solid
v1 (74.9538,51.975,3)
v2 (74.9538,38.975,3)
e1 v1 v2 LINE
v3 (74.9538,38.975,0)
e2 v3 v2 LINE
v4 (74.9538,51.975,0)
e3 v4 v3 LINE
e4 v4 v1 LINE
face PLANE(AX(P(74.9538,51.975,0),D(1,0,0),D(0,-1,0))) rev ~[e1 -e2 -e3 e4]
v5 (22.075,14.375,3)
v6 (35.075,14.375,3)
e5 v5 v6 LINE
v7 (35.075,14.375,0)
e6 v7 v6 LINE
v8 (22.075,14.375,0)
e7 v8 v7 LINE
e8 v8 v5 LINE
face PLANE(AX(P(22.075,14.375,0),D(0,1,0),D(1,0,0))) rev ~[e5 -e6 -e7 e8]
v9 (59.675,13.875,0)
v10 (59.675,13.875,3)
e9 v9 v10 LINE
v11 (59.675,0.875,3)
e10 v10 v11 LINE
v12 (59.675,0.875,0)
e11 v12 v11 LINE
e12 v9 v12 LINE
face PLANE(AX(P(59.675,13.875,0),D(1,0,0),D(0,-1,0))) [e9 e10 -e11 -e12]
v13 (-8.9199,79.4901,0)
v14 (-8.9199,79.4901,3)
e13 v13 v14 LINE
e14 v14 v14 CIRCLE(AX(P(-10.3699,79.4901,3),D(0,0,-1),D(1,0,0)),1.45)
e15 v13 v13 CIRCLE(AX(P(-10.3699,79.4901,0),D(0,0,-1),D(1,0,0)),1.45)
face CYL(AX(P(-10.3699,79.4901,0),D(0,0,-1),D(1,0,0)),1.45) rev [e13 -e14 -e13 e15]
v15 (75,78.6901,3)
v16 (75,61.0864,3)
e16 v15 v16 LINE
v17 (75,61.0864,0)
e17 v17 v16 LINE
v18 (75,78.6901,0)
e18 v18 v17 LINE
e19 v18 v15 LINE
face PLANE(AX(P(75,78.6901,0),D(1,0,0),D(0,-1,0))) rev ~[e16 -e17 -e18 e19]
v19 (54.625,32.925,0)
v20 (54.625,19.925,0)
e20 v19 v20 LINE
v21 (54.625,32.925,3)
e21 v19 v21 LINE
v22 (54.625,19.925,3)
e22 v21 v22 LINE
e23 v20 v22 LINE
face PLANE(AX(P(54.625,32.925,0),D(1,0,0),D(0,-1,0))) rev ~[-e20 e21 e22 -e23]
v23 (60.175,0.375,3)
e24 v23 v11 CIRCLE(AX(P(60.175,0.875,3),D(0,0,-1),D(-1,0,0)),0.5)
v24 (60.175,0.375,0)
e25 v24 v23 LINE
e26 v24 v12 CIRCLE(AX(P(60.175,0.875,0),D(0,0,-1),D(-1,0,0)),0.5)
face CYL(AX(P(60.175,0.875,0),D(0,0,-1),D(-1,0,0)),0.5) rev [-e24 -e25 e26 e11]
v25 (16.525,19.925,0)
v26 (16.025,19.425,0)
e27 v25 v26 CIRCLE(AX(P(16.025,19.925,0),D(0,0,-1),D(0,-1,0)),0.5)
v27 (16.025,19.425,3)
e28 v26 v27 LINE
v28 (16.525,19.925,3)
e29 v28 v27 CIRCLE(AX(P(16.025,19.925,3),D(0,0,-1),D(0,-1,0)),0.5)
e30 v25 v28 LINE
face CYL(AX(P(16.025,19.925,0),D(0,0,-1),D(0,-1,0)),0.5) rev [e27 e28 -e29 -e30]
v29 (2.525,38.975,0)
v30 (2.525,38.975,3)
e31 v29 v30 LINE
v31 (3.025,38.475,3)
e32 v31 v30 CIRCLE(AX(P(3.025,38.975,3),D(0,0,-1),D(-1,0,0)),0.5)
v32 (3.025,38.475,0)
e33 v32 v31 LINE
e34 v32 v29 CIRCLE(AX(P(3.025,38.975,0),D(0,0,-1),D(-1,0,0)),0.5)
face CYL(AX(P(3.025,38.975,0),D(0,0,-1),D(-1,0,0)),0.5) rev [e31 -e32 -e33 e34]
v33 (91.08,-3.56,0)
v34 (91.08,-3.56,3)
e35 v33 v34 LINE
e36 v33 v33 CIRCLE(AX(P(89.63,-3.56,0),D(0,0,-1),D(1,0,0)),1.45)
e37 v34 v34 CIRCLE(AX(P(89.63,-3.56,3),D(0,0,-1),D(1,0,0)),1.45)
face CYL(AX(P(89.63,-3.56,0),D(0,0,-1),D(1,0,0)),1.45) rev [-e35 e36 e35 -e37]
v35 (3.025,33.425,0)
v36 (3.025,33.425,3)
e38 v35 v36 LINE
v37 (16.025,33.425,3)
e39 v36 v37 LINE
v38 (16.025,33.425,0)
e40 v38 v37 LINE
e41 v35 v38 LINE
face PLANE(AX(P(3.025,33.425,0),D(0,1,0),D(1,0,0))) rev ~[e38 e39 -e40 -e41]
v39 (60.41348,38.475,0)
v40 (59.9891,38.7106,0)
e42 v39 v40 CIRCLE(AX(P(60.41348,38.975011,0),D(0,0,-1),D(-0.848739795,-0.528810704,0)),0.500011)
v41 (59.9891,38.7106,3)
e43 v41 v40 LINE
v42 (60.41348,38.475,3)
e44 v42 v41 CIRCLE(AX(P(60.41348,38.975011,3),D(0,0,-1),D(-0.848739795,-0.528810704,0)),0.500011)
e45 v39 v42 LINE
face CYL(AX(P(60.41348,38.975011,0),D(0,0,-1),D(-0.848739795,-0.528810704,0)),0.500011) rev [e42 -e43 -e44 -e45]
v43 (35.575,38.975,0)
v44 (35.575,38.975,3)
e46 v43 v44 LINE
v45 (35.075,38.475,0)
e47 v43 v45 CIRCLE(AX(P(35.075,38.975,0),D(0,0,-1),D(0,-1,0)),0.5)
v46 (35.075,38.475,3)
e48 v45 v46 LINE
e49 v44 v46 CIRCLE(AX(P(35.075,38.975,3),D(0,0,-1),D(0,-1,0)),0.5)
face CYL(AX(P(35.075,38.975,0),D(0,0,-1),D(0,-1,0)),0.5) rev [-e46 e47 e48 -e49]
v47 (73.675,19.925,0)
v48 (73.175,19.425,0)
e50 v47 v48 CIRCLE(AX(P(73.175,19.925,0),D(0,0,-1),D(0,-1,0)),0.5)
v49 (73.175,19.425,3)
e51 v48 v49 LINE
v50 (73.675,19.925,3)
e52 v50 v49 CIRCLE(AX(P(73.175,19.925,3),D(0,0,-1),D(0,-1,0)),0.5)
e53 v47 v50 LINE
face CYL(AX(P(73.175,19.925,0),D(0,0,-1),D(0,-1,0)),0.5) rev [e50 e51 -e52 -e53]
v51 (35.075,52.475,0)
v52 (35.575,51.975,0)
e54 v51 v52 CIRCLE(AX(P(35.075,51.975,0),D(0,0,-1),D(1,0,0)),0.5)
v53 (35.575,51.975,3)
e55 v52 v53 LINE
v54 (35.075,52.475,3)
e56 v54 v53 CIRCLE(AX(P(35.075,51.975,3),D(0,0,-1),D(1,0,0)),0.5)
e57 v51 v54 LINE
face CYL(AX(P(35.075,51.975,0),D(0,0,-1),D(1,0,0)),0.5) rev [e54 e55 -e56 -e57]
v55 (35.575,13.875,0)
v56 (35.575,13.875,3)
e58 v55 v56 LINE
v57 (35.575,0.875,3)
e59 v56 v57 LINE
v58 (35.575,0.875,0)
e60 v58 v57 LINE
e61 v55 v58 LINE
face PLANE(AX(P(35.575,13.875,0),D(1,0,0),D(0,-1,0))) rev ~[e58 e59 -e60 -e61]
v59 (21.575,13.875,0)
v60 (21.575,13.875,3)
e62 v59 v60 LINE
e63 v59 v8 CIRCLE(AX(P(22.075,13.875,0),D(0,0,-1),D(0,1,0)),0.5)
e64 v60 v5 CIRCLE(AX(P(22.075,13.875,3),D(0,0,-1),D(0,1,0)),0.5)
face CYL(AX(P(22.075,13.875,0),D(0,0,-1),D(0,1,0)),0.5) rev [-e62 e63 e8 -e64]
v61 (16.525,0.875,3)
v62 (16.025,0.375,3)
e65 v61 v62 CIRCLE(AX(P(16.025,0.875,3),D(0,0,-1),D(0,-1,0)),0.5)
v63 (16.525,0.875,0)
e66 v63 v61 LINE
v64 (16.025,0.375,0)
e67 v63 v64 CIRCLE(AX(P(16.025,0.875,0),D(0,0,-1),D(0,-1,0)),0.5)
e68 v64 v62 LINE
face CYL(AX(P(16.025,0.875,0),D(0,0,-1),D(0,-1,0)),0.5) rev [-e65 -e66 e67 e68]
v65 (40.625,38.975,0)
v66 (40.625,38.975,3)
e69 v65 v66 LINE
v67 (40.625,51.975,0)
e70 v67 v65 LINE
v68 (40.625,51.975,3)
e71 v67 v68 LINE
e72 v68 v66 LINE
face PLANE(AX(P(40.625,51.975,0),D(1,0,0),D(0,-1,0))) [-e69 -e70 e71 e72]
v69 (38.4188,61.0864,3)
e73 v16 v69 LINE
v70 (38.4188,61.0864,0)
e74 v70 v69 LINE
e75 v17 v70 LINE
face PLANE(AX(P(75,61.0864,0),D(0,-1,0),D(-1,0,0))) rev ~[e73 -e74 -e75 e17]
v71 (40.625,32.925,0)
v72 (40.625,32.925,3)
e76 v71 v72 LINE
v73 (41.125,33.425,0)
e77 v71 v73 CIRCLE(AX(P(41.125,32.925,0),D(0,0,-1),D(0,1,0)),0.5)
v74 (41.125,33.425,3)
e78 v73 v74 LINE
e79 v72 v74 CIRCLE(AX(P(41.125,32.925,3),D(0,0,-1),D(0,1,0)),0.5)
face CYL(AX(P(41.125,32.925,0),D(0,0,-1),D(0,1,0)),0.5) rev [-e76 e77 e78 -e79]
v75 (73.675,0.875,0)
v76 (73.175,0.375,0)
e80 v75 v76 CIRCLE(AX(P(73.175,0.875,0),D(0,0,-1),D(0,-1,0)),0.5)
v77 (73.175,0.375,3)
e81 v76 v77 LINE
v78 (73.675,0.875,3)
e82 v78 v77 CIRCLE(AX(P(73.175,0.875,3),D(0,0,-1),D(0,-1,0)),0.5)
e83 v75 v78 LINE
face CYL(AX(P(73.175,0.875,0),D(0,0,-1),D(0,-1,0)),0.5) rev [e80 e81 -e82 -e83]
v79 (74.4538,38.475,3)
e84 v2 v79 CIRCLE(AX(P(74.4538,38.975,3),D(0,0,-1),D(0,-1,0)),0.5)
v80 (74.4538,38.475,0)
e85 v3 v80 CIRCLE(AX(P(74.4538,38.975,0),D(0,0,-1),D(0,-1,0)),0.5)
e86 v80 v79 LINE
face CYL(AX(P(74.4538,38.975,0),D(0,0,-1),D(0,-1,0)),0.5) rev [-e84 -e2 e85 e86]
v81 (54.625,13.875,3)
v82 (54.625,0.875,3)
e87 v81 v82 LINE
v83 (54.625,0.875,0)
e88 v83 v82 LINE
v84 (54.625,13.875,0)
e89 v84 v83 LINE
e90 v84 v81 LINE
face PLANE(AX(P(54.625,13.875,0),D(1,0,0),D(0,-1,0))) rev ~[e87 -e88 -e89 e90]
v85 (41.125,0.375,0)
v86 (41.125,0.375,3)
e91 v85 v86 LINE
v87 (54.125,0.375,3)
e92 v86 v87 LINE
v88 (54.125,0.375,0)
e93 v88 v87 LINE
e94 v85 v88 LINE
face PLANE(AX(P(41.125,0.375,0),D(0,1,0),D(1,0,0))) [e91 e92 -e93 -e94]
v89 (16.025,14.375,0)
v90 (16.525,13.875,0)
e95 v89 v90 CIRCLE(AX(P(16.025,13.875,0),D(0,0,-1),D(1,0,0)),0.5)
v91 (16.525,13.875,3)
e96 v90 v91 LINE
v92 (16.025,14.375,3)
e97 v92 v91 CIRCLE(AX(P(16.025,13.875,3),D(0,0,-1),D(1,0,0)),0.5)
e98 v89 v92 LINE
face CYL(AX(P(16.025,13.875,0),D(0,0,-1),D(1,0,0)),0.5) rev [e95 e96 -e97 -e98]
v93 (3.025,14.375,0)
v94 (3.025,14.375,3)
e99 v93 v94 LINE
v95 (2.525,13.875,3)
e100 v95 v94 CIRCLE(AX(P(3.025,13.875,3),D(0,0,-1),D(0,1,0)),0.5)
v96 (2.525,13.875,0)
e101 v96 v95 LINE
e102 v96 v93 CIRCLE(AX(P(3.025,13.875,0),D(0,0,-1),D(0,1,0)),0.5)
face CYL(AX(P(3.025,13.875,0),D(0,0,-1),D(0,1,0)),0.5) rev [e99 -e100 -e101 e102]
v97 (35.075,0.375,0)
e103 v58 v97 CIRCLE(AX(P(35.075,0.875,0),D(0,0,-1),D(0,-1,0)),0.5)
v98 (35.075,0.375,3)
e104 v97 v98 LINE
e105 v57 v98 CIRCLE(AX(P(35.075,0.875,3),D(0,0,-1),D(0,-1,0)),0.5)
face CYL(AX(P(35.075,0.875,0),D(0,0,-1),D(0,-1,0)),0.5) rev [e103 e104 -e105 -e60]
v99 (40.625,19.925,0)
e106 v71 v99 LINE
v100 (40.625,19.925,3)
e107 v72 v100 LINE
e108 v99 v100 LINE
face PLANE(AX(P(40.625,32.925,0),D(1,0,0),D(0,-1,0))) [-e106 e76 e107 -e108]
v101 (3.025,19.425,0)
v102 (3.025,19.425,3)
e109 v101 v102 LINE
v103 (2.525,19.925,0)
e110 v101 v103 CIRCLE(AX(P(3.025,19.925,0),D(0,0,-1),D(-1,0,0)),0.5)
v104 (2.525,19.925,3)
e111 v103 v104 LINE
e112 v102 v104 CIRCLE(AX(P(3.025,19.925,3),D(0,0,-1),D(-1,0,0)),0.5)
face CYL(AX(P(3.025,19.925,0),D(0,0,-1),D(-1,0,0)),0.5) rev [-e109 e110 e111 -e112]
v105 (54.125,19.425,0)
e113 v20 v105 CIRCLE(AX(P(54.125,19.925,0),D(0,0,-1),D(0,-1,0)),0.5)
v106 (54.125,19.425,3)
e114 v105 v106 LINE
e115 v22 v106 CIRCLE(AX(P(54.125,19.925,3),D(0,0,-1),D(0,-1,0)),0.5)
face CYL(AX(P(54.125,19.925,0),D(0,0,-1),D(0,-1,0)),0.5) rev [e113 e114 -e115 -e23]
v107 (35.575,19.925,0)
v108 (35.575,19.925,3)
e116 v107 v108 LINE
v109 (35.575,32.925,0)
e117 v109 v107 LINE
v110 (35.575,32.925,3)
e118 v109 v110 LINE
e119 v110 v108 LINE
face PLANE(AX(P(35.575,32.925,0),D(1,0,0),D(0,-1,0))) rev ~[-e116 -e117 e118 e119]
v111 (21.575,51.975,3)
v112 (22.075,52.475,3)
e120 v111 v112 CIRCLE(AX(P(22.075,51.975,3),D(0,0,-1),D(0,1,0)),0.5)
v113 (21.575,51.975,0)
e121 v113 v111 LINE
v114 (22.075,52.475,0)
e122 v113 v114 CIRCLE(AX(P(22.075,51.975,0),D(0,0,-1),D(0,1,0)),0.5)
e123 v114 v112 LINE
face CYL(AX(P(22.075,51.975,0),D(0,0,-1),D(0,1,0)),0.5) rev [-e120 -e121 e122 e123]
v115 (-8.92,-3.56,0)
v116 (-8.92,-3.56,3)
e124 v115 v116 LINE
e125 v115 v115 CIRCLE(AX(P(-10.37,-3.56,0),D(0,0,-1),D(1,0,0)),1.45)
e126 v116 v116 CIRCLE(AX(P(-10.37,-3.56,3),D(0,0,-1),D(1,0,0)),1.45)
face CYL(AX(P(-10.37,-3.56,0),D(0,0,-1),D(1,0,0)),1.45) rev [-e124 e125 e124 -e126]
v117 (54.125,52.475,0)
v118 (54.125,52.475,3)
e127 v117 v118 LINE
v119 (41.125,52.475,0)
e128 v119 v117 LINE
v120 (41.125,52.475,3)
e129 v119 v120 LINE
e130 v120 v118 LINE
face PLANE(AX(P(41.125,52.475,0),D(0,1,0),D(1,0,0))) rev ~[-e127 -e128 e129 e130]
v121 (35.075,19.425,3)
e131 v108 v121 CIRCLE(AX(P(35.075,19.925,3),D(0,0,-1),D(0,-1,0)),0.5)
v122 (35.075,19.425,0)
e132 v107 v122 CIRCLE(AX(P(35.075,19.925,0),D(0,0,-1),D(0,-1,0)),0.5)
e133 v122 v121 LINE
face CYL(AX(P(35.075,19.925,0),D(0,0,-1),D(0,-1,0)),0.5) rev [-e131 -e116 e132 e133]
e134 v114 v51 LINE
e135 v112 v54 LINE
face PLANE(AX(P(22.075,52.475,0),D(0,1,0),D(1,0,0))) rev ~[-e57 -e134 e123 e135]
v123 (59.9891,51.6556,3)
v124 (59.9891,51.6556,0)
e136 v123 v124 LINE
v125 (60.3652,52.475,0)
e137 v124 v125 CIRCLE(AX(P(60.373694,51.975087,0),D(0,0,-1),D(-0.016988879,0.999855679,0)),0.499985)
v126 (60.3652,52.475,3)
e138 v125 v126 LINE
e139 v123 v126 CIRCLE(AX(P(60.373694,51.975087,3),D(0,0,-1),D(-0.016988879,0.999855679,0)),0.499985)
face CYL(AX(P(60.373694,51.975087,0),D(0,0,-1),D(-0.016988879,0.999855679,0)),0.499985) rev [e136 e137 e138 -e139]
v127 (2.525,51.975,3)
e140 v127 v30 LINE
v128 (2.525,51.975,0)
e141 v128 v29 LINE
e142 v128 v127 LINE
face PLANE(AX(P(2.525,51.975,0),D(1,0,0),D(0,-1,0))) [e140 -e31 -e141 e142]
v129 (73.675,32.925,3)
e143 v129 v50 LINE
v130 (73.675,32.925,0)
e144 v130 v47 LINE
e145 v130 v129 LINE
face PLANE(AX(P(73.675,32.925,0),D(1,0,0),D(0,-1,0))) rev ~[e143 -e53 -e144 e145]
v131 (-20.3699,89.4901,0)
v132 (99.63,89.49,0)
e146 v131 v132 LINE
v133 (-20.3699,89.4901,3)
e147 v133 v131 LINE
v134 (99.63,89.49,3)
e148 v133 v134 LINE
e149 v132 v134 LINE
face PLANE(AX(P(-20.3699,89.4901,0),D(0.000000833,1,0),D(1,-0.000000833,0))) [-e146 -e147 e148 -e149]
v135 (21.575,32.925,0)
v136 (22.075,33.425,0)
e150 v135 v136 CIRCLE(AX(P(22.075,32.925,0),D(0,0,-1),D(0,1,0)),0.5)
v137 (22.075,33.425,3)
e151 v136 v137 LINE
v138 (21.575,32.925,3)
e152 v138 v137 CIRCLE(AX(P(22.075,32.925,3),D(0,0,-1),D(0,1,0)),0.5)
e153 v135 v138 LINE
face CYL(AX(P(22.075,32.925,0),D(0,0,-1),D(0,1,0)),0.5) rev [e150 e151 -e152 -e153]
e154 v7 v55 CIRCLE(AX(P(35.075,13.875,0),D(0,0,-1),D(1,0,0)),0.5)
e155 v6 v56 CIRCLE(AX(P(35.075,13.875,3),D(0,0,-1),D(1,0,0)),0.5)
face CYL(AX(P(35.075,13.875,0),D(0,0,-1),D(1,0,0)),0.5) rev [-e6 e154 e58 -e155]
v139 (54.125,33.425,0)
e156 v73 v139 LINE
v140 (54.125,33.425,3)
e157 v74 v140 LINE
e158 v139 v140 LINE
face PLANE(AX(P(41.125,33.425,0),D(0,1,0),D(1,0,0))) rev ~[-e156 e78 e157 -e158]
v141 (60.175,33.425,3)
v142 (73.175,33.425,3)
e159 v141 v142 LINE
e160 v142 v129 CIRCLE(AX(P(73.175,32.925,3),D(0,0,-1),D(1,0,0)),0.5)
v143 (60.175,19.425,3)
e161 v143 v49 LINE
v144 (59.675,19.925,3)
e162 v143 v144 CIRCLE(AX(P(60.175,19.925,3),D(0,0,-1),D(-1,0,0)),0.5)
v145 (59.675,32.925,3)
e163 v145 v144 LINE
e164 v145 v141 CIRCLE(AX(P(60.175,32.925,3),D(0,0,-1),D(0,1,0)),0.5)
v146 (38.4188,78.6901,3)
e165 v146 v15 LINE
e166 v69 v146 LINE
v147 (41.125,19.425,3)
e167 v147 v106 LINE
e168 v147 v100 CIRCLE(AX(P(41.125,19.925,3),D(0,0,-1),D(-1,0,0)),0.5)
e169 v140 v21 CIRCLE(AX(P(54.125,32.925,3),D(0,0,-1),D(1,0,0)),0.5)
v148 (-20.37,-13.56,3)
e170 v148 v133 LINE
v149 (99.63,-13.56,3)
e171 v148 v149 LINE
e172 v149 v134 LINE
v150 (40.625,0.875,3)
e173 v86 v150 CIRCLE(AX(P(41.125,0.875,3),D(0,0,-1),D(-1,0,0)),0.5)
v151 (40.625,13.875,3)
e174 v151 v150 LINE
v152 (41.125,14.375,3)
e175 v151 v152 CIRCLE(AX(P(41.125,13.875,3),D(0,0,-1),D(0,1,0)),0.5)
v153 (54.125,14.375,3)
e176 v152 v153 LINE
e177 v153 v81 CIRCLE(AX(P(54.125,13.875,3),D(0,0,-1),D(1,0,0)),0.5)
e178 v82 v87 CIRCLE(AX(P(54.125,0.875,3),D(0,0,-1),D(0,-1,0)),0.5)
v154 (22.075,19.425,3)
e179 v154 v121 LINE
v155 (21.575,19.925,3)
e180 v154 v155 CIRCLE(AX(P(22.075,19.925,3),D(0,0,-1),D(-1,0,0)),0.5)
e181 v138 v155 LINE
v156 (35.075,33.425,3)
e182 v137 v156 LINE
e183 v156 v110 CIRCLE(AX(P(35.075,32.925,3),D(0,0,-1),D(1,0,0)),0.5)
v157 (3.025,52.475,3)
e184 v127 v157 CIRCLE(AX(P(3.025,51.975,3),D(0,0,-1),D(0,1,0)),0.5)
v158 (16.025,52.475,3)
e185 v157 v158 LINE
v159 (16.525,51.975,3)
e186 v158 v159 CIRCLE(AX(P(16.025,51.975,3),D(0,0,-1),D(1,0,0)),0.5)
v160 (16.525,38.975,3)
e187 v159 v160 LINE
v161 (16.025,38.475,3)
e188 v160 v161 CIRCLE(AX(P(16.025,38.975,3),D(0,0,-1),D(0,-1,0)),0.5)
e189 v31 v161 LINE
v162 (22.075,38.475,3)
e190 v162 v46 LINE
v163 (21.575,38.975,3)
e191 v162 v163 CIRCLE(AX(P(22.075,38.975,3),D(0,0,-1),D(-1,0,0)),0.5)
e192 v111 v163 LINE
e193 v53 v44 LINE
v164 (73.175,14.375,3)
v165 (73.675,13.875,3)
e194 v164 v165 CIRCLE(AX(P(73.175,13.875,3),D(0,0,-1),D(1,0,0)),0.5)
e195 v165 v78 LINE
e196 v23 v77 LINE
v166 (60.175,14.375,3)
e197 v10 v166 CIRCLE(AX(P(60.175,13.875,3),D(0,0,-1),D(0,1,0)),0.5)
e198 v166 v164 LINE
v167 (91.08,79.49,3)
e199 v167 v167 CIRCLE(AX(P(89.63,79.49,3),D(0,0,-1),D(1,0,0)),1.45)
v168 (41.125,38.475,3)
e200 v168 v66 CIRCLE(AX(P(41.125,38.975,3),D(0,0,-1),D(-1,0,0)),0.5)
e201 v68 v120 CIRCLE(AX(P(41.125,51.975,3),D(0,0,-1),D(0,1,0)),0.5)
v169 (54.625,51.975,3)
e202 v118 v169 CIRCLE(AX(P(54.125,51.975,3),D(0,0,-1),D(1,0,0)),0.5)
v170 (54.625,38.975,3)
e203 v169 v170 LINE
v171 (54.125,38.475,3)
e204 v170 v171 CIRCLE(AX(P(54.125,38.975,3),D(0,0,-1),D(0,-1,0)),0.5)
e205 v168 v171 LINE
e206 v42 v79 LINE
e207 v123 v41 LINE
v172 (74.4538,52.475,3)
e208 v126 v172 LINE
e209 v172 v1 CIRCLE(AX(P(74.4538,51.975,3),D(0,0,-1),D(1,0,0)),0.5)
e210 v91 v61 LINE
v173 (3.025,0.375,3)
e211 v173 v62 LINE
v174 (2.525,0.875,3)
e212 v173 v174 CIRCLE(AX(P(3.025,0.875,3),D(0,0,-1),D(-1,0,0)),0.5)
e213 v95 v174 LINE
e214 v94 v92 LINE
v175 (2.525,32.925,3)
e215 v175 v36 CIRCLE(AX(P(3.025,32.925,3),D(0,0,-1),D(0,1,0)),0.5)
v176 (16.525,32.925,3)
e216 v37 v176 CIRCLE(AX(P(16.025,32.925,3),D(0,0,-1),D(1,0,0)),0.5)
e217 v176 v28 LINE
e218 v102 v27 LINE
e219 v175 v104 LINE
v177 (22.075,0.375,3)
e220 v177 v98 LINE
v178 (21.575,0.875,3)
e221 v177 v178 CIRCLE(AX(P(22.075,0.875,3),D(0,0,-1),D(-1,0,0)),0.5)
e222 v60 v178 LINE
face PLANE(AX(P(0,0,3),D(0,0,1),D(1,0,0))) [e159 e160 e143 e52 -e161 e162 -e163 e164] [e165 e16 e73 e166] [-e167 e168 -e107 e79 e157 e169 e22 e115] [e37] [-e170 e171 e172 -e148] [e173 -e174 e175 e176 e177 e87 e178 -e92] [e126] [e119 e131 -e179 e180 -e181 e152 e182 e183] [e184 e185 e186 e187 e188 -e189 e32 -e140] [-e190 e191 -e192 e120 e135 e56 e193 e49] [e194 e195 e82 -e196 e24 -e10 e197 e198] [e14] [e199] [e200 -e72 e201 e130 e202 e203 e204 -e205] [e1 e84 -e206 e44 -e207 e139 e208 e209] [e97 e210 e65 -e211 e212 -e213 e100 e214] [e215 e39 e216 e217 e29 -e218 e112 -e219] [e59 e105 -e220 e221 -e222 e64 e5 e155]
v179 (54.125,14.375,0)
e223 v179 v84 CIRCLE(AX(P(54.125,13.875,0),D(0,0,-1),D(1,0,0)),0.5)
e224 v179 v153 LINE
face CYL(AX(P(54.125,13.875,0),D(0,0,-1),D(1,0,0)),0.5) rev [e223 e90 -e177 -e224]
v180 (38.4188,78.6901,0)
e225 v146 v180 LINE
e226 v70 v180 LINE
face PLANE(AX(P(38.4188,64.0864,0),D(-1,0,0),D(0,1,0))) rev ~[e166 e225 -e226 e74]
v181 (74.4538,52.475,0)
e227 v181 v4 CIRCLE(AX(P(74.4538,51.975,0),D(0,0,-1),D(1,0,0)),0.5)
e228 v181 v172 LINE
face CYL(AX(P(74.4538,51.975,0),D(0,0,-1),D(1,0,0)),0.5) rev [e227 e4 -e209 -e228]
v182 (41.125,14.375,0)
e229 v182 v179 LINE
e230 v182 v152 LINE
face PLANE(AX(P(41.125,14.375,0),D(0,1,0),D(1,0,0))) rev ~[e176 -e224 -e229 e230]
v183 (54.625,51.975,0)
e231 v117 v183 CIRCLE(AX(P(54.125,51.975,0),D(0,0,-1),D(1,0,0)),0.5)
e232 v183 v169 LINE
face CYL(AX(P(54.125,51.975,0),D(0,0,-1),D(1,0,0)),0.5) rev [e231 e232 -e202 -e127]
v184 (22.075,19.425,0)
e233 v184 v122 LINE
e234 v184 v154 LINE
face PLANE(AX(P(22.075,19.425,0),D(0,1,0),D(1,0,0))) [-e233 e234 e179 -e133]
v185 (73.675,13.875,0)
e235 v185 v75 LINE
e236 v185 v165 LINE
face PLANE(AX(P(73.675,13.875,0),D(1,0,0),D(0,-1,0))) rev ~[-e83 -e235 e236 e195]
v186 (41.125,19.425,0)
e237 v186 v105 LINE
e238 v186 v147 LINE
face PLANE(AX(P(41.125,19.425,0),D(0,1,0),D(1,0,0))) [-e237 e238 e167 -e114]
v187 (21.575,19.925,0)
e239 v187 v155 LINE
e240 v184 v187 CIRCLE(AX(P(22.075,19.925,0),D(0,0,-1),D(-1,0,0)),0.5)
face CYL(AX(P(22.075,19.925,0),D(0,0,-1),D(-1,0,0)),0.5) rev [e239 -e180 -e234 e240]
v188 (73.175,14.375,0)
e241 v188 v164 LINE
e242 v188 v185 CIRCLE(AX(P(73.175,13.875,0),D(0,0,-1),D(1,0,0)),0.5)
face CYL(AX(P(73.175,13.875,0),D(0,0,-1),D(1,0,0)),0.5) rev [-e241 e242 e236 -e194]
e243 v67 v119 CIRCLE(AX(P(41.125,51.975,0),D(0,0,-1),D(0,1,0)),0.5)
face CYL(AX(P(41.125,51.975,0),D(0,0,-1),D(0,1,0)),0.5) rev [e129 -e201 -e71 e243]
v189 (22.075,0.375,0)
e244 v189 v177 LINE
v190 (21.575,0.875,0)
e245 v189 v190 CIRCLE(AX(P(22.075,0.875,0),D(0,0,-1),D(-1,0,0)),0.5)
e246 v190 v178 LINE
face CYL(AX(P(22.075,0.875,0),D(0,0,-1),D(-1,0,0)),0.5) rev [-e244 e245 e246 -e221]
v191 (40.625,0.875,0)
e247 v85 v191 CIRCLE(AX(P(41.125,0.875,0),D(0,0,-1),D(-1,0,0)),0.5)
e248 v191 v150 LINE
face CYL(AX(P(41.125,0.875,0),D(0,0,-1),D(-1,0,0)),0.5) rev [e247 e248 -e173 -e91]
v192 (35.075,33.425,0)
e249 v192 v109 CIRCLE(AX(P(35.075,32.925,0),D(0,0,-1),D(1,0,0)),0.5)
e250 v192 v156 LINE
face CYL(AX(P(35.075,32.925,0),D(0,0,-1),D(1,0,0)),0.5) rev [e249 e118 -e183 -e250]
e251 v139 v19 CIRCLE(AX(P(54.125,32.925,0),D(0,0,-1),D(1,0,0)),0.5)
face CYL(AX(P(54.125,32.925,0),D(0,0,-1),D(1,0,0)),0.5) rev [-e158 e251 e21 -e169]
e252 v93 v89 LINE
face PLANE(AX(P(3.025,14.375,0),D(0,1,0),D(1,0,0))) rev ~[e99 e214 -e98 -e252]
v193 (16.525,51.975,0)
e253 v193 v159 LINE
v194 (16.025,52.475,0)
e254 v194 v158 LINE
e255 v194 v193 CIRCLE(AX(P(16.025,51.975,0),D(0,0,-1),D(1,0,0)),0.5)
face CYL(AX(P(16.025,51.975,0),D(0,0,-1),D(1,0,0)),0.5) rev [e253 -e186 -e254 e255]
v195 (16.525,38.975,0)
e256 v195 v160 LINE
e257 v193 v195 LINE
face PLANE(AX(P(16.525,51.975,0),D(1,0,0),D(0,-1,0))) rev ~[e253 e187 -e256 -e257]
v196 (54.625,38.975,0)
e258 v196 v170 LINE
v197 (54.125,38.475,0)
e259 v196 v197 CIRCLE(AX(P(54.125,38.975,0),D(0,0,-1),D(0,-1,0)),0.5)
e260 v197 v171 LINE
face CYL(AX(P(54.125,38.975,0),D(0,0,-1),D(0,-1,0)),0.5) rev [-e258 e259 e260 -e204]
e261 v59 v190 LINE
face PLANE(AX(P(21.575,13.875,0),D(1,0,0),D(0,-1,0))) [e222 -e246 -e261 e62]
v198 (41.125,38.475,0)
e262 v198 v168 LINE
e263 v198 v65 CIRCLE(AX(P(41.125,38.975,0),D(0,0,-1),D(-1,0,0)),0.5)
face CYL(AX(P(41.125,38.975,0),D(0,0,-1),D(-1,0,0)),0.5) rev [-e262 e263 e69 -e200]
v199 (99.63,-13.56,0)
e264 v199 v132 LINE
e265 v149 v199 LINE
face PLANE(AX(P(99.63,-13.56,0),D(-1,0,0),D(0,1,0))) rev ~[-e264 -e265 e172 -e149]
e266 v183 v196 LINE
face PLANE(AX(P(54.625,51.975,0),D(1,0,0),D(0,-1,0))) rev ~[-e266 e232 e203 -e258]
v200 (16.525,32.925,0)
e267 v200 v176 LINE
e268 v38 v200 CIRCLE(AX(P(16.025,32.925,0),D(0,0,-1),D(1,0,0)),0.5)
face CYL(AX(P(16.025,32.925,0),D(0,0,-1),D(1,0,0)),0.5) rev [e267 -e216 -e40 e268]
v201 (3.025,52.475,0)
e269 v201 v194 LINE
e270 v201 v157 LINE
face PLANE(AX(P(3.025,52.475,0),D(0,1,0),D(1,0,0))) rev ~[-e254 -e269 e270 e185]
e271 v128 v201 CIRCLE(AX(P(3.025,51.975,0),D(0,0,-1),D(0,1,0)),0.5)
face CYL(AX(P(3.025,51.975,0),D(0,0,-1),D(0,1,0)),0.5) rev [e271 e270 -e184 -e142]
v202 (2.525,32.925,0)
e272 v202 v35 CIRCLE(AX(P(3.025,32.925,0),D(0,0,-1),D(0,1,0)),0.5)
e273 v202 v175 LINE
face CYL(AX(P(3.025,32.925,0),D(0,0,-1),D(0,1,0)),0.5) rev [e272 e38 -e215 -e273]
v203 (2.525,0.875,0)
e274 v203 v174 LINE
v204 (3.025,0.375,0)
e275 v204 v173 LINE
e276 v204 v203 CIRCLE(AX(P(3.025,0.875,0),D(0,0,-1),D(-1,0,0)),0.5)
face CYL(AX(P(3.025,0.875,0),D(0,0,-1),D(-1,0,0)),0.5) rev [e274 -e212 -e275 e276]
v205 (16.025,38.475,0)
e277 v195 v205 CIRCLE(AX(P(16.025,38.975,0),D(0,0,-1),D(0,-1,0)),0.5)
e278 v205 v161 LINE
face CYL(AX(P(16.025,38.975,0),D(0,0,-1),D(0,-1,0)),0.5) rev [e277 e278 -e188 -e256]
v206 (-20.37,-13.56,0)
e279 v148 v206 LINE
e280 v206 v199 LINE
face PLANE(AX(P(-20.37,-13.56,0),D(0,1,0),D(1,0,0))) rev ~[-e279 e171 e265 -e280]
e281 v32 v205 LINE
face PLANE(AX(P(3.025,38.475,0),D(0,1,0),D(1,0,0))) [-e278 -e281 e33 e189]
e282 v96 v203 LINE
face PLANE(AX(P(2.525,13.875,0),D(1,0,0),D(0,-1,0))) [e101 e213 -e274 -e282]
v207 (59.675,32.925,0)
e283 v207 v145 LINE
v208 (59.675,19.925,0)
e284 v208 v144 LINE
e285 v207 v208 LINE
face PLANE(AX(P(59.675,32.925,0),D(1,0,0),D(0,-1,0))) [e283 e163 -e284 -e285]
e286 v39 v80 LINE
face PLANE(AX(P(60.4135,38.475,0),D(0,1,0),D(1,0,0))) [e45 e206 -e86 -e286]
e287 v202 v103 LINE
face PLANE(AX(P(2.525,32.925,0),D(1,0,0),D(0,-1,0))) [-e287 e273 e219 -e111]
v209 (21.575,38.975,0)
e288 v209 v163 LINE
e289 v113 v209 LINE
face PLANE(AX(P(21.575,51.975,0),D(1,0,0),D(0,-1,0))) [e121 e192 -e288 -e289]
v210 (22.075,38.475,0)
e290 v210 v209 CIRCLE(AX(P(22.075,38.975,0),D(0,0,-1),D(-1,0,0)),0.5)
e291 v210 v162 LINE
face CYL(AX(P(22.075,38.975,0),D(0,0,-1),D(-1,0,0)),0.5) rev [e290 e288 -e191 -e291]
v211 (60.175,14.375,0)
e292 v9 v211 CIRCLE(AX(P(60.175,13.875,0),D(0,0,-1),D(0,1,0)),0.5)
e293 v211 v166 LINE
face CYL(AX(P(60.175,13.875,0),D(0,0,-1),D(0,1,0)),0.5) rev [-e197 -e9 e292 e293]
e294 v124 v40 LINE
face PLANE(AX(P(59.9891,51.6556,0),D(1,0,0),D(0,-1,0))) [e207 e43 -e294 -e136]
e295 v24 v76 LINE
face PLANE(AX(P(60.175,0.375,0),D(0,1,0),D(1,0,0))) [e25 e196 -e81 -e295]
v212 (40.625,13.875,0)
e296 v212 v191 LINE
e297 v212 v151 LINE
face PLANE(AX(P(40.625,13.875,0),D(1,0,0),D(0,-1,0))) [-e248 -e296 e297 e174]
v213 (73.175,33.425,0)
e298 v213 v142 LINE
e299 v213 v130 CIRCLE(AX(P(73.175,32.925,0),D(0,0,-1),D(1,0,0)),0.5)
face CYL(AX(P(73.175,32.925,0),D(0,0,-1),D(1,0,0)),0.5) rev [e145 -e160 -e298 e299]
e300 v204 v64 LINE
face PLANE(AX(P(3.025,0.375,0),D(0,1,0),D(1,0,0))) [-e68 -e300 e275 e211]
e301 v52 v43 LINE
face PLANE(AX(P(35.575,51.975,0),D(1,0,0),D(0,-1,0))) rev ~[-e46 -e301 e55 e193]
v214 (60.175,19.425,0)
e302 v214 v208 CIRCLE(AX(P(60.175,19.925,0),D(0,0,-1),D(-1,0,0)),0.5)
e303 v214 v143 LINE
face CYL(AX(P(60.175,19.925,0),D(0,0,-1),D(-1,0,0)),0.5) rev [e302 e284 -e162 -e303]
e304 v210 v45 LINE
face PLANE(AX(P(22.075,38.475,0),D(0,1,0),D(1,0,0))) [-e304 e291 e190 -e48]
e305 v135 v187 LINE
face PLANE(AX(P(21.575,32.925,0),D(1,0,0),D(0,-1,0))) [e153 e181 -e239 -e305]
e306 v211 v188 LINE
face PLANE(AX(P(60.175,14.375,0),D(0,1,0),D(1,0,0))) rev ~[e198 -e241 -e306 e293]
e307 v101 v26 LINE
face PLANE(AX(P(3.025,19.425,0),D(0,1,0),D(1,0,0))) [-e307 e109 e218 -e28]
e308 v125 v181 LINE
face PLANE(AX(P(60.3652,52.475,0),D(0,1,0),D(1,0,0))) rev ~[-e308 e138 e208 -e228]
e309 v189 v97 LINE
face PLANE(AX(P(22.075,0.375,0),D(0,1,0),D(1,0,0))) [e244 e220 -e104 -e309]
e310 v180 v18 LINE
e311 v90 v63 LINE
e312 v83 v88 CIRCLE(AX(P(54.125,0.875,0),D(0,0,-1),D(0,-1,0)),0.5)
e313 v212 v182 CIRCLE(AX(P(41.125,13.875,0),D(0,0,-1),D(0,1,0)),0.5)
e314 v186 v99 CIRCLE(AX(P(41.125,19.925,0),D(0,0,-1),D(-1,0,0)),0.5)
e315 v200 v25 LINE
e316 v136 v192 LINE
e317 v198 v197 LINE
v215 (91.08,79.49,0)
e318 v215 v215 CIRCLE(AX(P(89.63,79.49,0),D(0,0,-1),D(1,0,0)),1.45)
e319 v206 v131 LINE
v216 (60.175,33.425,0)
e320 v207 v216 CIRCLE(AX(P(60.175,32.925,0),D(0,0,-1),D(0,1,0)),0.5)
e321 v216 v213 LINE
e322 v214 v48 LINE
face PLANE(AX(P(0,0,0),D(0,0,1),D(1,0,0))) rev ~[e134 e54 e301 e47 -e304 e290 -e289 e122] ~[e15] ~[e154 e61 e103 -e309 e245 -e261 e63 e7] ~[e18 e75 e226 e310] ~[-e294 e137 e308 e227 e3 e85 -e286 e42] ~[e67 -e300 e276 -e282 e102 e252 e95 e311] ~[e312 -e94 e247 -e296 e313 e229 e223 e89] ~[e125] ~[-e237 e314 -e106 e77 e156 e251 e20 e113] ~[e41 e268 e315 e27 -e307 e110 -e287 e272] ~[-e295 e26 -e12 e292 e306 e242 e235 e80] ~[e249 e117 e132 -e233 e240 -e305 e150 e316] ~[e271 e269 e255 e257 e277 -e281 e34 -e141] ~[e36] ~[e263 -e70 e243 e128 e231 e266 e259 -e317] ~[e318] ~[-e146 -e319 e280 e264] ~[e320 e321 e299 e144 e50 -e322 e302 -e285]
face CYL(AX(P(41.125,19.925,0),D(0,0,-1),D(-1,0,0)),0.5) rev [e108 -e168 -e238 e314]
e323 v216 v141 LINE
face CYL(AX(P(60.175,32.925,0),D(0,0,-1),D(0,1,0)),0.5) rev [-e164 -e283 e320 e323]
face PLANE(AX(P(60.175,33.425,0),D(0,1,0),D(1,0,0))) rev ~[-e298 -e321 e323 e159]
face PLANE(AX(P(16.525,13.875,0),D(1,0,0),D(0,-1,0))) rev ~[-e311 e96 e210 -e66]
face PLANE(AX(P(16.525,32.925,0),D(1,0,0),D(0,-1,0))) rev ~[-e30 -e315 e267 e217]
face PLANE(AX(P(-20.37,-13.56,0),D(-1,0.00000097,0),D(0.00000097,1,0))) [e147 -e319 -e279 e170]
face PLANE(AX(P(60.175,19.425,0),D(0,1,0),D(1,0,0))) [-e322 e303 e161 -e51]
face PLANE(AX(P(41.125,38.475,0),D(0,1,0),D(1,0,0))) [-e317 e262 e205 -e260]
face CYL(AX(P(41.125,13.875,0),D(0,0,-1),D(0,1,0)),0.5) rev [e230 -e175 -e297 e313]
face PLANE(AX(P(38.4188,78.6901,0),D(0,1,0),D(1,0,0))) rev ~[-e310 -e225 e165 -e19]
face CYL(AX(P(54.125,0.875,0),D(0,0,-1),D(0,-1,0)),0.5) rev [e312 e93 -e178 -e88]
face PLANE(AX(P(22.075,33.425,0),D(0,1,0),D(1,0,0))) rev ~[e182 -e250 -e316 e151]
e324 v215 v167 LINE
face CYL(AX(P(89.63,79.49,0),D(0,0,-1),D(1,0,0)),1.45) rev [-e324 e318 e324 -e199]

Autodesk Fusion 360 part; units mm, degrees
sketch "plate-2026-02-28T17_07_32.054Z" plane through (0, 0, 0) normal (0, 0, 1) x (1, 0, 0)
  line L0 (3.025, 52.475) -> (16.025, 52.475)
  line L1 (3.025, 38.475) -> (16.025, 38.475)
  line L2 (2.525, 51.975) -> (2.525, 38.975)
  line L3 (16.525, 51.975) -> (16.525, 38.975)
  arc A0 (3.025, 52.475) -> (2.525, 51.975) centre (3.025, 51.975) ccw
  arc A1 (16.525, 51.975) -> (16.025, 52.475) centre (16.025, 51.975) ccw
  arc A2 (2.525, 38.975) -> (3.025, 38.475) centre (3.025, 38.975) ccw
  arc A3 (16.025, 38.475) -> (16.525, 38.975) centre (16.025, 38.975) ccw
  line L4 (22.075, 52.475) -> (35.075, 52.475)
  line L5 (22.075, 38.475) -> (35.075, 38.475)
  line L6 (21.575, 51.975) -> (21.575, 38.975)
  line L7 (35.575, 51.975) -> (35.575, 38.975)
  arc A4 (22.075, 52.475) -> (21.575, 51.975) centre (22.075, 51.975) ccw
  arc A5 (35.575, 51.975) -> (35.075, 52.475) centre (35.075, 51.975) ccw
  arc A6 (21.575, 38.975) -> (22.075, 38.475) centre (22.075, 38.975) ccw
  arc A7 (35.075, 38.475) -> (35.575, 38.975) centre (35.075, 38.975) ccw
  line L8 (41.125, 52.475) -> (54.125, 52.475)
  line L9 (41.125, 38.475) -> (54.125, 38.475)
  line L10 (40.625, 51.975) -> (40.625, 38.975)
  line L11 (54.625, 51.975) -> (54.625, 38.975)
  arc A8 (41.125, 52.475) -> (40.625, 51.975) centre (41.125, 51.975) ccw
  arc A9 (54.625, 51.975) -> (54.125, 52.475) centre (54.125, 51.975) ccw
  arc A10 (40.625, 38.975) -> (41.125, 38.475) centre (41.125, 38.975) ccw
  arc A11 (54.125, 38.475) -> (54.625, 38.975) centre (54.125, 38.975) ccw
  line L12 (60.3652, 52.475) -> (74.4538, 52.475)
  line L13 (60.4135, 38.475) -> (74.4538, 38.475)
  line L14 (59.9891, 51.6556) -> (59.9891, 38.7106)
  line L15 (74.9538, 51.975) -> (74.9538, 38.975)
  arc A12 (60.3652, 52.475) -> (59.9891, 51.6556) centre (60.3737, 51.9751) ccw
  arc A13 (74.9538, 51.975) -> (74.4538, 52.475) centre (74.4538, 51.975) ccw
  arc A14 (59.9891, 38.7106) -> (60.4135, 38.475) centre (60.4135, 38.975) ccw
  arc A15 (74.4538, 38.475) -> (74.9538, 38.975) centre (74.4538, 38.975) ccw
  line L16 (3.025, 33.425) -> (16.025, 33.425)
  line L17 (3.025, 19.425) -> (16.025, 19.425)
  line L18 (2.525, 32.925) -> (2.525, 19.925)
  line L19 (16.525, 32.925) -> (16.525, 19.925)
  arc A16 (3.025, 33.425) -> (2.525, 32.925) centre (3.025, 32.925) ccw
  arc A17 (16.525, 32.925) -> (16.025, 33.425) centre (16.025, 32.925) ccw
  arc A18 (2.525, 19.925) -> (3.025, 19.425) centre (3.025, 19.925) ccw
  arc A19 (16.025, 19.425) -> (16.525, 19.925) centre (16.025, 19.925) ccw
  line L20 (22.075, 33.425) -> (35.075, 33.425)
  line L21 (22.075, 19.425) -> (35.075, 19.425)
  line L22 (21.575, 32.925) -> (21.575, 19.925)
  line L23 (35.575, 32.925) -> (35.575, 19.925)
  arc A20 (22.075, 33.425) -> (21.575, 32.925) centre (22.075, 32.925) ccw
  arc A21 (35.575, 32.925) -> (35.075, 33.425) centre (35.075, 32.925) ccw
  arc A22 (21.575, 19.925) -> (22.075, 19.425) centre (22.075, 19.925) ccw
  arc A23 (35.075, 19.425) -> (35.575, 19.925) centre (35.075, 19.925) ccw
  line L24 (41.125, 33.425) -> (54.125, 33.425)
  line L25 (41.125, 19.425) -> (54.125, 19.425)
  line L26 (40.625, 32.925) -> (40.625, 19.925)
  line L27 (54.625, 32.925) -> (54.625, 19.925)
  arc A24 (41.125, 33.425) -> (40.625, 32.925) centre (41.125, 32.925) ccw
  arc A25 (54.625, 32.925) -> (54.125, 33.425) centre (54.125, 32.925) ccw
  arc A26 (40.625, 19.925) -> (41.125, 19.425) centre (41.125, 19.925) ccw
  arc A27 (54.125, 19.425) -> (54.625, 19.925) centre (54.125, 19.925) ccw
  line L28 (60.175, 33.425) -> (73.175, 33.425)
  line L29 (60.175, 19.425) -> (73.175, 19.425)
  line L30 (59.675, 32.925) -> (59.675, 19.925)
  line L31 (73.675, 32.925) -> (73.675, 19.925)
  arc A28 (60.175, 33.425) -> (59.675, 32.925) centre (60.175, 32.925) ccw
  arc A29 (73.675, 32.925) -> (73.175, 33.425) centre (73.175, 32.925) ccw
  arc A30 (59.675, 19.925) -> (60.175, 19.425) centre (60.175, 19.925) ccw
  arc A31 (73.175, 19.425) -> (73.675, 19.925) centre (73.175, 19.925) ccw
  line L32 (3.025, 14.375) -> (16.025, 14.375)
  line L33 (3.025, 0.375) -> (16.025, 0.375)
  line L34 (2.525, 13.875) -> (2.525, 0.875)
  line L35 (16.525, 13.875) -> (16.525, 0.875)
  arc A32 (3.025, 14.375) -> (2.525, 13.875) centre (3.025, 13.875) ccw
  arc A33 (16.525, 13.875) -> (16.025, 14.375) centre (16.025, 13.875) ccw
  arc A34 (2.525, 0.875) -> (3.025, 0.375) centre (3.025, 0.875) ccw
  arc A35 (16.025, 0.375) -> (16.525, 0.875) centre (16.025, 0.875) ccw
  line L36 (22.075, 14.375) -> (35.075, 14.375)
  line L37 (22.075, 0.375) -> (35.075, 0.375)
  line L38 (21.575, 13.875) -> (21.575, 0.875)
  line L39 (35.575, 13.875) -> (35.575, 0.875)
  arc A36 (22.075, 14.375) -> (21.575, 13.875) centre (22.075, 13.875) ccw
  arc A37 (35.575, 13.875) -> (35.075, 14.375) centre (35.075, 13.875) ccw
  arc A38 (21.575, 0.875) -> (22.075, 0.375) centre (22.075, 0.875) ccw
  arc A39 (35.075, 0.375) -> (35.575, 0.875) centre (35.075, 0.875) ccw
  line L40 (41.125, 14.375) -> (54.125, 14.375)
  line L41 (41.125, 0.375) -> (54.125, 0.375)
  line L42 (40.625, 13.875) -> (40.625, 0.875)
  line L43 (54.625, 13.875) -> (54.625, 0.875)
  arc A40 (41.125, 14.375) -> (40.625, 13.875) centre (41.125, 13.875) ccw
  arc A41 (54.625, 13.875) -> (54.125, 14.375) centre (54.125, 13.875) ccw
  arc A42 (40.625, 0.875) -> (41.125, 0.375) centre (41.125, 0.875) ccw
  arc A43 (54.125, 0.375) -> (54.625, 0.875) centre (54.125, 0.875) ccw
  line L44 (60.175, 14.375) -> (73.175, 14.375)
  line L45 (60.175, 0.375) -> (73.175, 0.375)
  line L46 (59.675, 13.875) -> (59.675, 0.875)
  line L47 (73.675, 13.875) -> (73.675, 0.875)
  arc A44 (60.175, 14.375) -> (59.675, 13.875) centre (60.175, 13.875) ccw
  arc A45 (73.675, 13.875) -> (73.175, 14.375) centre (73.175, 13.875) ccw
  arc A46 (59.675, 0.875) -> (60.175, 0.375) centre (60.175, 0.875) ccw
  arc A47 (73.175, 0.375) -> (73.675, 0.875) centre (73.175, 0.875) ccw
  line L48 (-20.37, -13.56) -> (99.63, -13.56)
  line L49 (-20.3699, 89.4901) -> (99.63, 89.49)
  line L50 (-20.37, -13.56) -> (-20.3699, 89.4901)
  line L51 (99.63, -13.56) -> (99.63, 89.49)
  line L52 (38.4188, 78.6901) -> (75, 78.6901)
  line L53 (75, 78.6901) -> (75, 64.0864)
  line L54 (75, 64.0864) -> (38.4188, 64.0864)
  line L55 (38.4188, 64.0864) -> (38.4188, 78.6901)
  circle A48 centre (-10.3699, 79.4901) radius 1.45
  circle A49 centre (89.63, 79.49) radius 1.45
  circle A50 centre (89.63, -3.56) radius 1.45
  circle A51 centre (-10.37, -3.56) radius 1.45
  dimension "d15" = 2.9
  dimension "d16" = 2.9
  dimension "d17" = 2.9
  dimension "d18" = 2.9
  dimension "d19" = 10
  dimension "d20" = 10
  dimension "d21" = 10
  dimension "d22" = 10
  dimension "d23" = 10
  dimension "d24" = 10
  dimension "d25" = 10
  dimension "d26" = 10
extrude "Extrude2" add sketch "plate-2026-02-28T17_07_32.054Z" along normal blind 3
move_face "MoveFace2" by (0, -3, 0) 1 faces at (62.8063, 64.0864, 1)
